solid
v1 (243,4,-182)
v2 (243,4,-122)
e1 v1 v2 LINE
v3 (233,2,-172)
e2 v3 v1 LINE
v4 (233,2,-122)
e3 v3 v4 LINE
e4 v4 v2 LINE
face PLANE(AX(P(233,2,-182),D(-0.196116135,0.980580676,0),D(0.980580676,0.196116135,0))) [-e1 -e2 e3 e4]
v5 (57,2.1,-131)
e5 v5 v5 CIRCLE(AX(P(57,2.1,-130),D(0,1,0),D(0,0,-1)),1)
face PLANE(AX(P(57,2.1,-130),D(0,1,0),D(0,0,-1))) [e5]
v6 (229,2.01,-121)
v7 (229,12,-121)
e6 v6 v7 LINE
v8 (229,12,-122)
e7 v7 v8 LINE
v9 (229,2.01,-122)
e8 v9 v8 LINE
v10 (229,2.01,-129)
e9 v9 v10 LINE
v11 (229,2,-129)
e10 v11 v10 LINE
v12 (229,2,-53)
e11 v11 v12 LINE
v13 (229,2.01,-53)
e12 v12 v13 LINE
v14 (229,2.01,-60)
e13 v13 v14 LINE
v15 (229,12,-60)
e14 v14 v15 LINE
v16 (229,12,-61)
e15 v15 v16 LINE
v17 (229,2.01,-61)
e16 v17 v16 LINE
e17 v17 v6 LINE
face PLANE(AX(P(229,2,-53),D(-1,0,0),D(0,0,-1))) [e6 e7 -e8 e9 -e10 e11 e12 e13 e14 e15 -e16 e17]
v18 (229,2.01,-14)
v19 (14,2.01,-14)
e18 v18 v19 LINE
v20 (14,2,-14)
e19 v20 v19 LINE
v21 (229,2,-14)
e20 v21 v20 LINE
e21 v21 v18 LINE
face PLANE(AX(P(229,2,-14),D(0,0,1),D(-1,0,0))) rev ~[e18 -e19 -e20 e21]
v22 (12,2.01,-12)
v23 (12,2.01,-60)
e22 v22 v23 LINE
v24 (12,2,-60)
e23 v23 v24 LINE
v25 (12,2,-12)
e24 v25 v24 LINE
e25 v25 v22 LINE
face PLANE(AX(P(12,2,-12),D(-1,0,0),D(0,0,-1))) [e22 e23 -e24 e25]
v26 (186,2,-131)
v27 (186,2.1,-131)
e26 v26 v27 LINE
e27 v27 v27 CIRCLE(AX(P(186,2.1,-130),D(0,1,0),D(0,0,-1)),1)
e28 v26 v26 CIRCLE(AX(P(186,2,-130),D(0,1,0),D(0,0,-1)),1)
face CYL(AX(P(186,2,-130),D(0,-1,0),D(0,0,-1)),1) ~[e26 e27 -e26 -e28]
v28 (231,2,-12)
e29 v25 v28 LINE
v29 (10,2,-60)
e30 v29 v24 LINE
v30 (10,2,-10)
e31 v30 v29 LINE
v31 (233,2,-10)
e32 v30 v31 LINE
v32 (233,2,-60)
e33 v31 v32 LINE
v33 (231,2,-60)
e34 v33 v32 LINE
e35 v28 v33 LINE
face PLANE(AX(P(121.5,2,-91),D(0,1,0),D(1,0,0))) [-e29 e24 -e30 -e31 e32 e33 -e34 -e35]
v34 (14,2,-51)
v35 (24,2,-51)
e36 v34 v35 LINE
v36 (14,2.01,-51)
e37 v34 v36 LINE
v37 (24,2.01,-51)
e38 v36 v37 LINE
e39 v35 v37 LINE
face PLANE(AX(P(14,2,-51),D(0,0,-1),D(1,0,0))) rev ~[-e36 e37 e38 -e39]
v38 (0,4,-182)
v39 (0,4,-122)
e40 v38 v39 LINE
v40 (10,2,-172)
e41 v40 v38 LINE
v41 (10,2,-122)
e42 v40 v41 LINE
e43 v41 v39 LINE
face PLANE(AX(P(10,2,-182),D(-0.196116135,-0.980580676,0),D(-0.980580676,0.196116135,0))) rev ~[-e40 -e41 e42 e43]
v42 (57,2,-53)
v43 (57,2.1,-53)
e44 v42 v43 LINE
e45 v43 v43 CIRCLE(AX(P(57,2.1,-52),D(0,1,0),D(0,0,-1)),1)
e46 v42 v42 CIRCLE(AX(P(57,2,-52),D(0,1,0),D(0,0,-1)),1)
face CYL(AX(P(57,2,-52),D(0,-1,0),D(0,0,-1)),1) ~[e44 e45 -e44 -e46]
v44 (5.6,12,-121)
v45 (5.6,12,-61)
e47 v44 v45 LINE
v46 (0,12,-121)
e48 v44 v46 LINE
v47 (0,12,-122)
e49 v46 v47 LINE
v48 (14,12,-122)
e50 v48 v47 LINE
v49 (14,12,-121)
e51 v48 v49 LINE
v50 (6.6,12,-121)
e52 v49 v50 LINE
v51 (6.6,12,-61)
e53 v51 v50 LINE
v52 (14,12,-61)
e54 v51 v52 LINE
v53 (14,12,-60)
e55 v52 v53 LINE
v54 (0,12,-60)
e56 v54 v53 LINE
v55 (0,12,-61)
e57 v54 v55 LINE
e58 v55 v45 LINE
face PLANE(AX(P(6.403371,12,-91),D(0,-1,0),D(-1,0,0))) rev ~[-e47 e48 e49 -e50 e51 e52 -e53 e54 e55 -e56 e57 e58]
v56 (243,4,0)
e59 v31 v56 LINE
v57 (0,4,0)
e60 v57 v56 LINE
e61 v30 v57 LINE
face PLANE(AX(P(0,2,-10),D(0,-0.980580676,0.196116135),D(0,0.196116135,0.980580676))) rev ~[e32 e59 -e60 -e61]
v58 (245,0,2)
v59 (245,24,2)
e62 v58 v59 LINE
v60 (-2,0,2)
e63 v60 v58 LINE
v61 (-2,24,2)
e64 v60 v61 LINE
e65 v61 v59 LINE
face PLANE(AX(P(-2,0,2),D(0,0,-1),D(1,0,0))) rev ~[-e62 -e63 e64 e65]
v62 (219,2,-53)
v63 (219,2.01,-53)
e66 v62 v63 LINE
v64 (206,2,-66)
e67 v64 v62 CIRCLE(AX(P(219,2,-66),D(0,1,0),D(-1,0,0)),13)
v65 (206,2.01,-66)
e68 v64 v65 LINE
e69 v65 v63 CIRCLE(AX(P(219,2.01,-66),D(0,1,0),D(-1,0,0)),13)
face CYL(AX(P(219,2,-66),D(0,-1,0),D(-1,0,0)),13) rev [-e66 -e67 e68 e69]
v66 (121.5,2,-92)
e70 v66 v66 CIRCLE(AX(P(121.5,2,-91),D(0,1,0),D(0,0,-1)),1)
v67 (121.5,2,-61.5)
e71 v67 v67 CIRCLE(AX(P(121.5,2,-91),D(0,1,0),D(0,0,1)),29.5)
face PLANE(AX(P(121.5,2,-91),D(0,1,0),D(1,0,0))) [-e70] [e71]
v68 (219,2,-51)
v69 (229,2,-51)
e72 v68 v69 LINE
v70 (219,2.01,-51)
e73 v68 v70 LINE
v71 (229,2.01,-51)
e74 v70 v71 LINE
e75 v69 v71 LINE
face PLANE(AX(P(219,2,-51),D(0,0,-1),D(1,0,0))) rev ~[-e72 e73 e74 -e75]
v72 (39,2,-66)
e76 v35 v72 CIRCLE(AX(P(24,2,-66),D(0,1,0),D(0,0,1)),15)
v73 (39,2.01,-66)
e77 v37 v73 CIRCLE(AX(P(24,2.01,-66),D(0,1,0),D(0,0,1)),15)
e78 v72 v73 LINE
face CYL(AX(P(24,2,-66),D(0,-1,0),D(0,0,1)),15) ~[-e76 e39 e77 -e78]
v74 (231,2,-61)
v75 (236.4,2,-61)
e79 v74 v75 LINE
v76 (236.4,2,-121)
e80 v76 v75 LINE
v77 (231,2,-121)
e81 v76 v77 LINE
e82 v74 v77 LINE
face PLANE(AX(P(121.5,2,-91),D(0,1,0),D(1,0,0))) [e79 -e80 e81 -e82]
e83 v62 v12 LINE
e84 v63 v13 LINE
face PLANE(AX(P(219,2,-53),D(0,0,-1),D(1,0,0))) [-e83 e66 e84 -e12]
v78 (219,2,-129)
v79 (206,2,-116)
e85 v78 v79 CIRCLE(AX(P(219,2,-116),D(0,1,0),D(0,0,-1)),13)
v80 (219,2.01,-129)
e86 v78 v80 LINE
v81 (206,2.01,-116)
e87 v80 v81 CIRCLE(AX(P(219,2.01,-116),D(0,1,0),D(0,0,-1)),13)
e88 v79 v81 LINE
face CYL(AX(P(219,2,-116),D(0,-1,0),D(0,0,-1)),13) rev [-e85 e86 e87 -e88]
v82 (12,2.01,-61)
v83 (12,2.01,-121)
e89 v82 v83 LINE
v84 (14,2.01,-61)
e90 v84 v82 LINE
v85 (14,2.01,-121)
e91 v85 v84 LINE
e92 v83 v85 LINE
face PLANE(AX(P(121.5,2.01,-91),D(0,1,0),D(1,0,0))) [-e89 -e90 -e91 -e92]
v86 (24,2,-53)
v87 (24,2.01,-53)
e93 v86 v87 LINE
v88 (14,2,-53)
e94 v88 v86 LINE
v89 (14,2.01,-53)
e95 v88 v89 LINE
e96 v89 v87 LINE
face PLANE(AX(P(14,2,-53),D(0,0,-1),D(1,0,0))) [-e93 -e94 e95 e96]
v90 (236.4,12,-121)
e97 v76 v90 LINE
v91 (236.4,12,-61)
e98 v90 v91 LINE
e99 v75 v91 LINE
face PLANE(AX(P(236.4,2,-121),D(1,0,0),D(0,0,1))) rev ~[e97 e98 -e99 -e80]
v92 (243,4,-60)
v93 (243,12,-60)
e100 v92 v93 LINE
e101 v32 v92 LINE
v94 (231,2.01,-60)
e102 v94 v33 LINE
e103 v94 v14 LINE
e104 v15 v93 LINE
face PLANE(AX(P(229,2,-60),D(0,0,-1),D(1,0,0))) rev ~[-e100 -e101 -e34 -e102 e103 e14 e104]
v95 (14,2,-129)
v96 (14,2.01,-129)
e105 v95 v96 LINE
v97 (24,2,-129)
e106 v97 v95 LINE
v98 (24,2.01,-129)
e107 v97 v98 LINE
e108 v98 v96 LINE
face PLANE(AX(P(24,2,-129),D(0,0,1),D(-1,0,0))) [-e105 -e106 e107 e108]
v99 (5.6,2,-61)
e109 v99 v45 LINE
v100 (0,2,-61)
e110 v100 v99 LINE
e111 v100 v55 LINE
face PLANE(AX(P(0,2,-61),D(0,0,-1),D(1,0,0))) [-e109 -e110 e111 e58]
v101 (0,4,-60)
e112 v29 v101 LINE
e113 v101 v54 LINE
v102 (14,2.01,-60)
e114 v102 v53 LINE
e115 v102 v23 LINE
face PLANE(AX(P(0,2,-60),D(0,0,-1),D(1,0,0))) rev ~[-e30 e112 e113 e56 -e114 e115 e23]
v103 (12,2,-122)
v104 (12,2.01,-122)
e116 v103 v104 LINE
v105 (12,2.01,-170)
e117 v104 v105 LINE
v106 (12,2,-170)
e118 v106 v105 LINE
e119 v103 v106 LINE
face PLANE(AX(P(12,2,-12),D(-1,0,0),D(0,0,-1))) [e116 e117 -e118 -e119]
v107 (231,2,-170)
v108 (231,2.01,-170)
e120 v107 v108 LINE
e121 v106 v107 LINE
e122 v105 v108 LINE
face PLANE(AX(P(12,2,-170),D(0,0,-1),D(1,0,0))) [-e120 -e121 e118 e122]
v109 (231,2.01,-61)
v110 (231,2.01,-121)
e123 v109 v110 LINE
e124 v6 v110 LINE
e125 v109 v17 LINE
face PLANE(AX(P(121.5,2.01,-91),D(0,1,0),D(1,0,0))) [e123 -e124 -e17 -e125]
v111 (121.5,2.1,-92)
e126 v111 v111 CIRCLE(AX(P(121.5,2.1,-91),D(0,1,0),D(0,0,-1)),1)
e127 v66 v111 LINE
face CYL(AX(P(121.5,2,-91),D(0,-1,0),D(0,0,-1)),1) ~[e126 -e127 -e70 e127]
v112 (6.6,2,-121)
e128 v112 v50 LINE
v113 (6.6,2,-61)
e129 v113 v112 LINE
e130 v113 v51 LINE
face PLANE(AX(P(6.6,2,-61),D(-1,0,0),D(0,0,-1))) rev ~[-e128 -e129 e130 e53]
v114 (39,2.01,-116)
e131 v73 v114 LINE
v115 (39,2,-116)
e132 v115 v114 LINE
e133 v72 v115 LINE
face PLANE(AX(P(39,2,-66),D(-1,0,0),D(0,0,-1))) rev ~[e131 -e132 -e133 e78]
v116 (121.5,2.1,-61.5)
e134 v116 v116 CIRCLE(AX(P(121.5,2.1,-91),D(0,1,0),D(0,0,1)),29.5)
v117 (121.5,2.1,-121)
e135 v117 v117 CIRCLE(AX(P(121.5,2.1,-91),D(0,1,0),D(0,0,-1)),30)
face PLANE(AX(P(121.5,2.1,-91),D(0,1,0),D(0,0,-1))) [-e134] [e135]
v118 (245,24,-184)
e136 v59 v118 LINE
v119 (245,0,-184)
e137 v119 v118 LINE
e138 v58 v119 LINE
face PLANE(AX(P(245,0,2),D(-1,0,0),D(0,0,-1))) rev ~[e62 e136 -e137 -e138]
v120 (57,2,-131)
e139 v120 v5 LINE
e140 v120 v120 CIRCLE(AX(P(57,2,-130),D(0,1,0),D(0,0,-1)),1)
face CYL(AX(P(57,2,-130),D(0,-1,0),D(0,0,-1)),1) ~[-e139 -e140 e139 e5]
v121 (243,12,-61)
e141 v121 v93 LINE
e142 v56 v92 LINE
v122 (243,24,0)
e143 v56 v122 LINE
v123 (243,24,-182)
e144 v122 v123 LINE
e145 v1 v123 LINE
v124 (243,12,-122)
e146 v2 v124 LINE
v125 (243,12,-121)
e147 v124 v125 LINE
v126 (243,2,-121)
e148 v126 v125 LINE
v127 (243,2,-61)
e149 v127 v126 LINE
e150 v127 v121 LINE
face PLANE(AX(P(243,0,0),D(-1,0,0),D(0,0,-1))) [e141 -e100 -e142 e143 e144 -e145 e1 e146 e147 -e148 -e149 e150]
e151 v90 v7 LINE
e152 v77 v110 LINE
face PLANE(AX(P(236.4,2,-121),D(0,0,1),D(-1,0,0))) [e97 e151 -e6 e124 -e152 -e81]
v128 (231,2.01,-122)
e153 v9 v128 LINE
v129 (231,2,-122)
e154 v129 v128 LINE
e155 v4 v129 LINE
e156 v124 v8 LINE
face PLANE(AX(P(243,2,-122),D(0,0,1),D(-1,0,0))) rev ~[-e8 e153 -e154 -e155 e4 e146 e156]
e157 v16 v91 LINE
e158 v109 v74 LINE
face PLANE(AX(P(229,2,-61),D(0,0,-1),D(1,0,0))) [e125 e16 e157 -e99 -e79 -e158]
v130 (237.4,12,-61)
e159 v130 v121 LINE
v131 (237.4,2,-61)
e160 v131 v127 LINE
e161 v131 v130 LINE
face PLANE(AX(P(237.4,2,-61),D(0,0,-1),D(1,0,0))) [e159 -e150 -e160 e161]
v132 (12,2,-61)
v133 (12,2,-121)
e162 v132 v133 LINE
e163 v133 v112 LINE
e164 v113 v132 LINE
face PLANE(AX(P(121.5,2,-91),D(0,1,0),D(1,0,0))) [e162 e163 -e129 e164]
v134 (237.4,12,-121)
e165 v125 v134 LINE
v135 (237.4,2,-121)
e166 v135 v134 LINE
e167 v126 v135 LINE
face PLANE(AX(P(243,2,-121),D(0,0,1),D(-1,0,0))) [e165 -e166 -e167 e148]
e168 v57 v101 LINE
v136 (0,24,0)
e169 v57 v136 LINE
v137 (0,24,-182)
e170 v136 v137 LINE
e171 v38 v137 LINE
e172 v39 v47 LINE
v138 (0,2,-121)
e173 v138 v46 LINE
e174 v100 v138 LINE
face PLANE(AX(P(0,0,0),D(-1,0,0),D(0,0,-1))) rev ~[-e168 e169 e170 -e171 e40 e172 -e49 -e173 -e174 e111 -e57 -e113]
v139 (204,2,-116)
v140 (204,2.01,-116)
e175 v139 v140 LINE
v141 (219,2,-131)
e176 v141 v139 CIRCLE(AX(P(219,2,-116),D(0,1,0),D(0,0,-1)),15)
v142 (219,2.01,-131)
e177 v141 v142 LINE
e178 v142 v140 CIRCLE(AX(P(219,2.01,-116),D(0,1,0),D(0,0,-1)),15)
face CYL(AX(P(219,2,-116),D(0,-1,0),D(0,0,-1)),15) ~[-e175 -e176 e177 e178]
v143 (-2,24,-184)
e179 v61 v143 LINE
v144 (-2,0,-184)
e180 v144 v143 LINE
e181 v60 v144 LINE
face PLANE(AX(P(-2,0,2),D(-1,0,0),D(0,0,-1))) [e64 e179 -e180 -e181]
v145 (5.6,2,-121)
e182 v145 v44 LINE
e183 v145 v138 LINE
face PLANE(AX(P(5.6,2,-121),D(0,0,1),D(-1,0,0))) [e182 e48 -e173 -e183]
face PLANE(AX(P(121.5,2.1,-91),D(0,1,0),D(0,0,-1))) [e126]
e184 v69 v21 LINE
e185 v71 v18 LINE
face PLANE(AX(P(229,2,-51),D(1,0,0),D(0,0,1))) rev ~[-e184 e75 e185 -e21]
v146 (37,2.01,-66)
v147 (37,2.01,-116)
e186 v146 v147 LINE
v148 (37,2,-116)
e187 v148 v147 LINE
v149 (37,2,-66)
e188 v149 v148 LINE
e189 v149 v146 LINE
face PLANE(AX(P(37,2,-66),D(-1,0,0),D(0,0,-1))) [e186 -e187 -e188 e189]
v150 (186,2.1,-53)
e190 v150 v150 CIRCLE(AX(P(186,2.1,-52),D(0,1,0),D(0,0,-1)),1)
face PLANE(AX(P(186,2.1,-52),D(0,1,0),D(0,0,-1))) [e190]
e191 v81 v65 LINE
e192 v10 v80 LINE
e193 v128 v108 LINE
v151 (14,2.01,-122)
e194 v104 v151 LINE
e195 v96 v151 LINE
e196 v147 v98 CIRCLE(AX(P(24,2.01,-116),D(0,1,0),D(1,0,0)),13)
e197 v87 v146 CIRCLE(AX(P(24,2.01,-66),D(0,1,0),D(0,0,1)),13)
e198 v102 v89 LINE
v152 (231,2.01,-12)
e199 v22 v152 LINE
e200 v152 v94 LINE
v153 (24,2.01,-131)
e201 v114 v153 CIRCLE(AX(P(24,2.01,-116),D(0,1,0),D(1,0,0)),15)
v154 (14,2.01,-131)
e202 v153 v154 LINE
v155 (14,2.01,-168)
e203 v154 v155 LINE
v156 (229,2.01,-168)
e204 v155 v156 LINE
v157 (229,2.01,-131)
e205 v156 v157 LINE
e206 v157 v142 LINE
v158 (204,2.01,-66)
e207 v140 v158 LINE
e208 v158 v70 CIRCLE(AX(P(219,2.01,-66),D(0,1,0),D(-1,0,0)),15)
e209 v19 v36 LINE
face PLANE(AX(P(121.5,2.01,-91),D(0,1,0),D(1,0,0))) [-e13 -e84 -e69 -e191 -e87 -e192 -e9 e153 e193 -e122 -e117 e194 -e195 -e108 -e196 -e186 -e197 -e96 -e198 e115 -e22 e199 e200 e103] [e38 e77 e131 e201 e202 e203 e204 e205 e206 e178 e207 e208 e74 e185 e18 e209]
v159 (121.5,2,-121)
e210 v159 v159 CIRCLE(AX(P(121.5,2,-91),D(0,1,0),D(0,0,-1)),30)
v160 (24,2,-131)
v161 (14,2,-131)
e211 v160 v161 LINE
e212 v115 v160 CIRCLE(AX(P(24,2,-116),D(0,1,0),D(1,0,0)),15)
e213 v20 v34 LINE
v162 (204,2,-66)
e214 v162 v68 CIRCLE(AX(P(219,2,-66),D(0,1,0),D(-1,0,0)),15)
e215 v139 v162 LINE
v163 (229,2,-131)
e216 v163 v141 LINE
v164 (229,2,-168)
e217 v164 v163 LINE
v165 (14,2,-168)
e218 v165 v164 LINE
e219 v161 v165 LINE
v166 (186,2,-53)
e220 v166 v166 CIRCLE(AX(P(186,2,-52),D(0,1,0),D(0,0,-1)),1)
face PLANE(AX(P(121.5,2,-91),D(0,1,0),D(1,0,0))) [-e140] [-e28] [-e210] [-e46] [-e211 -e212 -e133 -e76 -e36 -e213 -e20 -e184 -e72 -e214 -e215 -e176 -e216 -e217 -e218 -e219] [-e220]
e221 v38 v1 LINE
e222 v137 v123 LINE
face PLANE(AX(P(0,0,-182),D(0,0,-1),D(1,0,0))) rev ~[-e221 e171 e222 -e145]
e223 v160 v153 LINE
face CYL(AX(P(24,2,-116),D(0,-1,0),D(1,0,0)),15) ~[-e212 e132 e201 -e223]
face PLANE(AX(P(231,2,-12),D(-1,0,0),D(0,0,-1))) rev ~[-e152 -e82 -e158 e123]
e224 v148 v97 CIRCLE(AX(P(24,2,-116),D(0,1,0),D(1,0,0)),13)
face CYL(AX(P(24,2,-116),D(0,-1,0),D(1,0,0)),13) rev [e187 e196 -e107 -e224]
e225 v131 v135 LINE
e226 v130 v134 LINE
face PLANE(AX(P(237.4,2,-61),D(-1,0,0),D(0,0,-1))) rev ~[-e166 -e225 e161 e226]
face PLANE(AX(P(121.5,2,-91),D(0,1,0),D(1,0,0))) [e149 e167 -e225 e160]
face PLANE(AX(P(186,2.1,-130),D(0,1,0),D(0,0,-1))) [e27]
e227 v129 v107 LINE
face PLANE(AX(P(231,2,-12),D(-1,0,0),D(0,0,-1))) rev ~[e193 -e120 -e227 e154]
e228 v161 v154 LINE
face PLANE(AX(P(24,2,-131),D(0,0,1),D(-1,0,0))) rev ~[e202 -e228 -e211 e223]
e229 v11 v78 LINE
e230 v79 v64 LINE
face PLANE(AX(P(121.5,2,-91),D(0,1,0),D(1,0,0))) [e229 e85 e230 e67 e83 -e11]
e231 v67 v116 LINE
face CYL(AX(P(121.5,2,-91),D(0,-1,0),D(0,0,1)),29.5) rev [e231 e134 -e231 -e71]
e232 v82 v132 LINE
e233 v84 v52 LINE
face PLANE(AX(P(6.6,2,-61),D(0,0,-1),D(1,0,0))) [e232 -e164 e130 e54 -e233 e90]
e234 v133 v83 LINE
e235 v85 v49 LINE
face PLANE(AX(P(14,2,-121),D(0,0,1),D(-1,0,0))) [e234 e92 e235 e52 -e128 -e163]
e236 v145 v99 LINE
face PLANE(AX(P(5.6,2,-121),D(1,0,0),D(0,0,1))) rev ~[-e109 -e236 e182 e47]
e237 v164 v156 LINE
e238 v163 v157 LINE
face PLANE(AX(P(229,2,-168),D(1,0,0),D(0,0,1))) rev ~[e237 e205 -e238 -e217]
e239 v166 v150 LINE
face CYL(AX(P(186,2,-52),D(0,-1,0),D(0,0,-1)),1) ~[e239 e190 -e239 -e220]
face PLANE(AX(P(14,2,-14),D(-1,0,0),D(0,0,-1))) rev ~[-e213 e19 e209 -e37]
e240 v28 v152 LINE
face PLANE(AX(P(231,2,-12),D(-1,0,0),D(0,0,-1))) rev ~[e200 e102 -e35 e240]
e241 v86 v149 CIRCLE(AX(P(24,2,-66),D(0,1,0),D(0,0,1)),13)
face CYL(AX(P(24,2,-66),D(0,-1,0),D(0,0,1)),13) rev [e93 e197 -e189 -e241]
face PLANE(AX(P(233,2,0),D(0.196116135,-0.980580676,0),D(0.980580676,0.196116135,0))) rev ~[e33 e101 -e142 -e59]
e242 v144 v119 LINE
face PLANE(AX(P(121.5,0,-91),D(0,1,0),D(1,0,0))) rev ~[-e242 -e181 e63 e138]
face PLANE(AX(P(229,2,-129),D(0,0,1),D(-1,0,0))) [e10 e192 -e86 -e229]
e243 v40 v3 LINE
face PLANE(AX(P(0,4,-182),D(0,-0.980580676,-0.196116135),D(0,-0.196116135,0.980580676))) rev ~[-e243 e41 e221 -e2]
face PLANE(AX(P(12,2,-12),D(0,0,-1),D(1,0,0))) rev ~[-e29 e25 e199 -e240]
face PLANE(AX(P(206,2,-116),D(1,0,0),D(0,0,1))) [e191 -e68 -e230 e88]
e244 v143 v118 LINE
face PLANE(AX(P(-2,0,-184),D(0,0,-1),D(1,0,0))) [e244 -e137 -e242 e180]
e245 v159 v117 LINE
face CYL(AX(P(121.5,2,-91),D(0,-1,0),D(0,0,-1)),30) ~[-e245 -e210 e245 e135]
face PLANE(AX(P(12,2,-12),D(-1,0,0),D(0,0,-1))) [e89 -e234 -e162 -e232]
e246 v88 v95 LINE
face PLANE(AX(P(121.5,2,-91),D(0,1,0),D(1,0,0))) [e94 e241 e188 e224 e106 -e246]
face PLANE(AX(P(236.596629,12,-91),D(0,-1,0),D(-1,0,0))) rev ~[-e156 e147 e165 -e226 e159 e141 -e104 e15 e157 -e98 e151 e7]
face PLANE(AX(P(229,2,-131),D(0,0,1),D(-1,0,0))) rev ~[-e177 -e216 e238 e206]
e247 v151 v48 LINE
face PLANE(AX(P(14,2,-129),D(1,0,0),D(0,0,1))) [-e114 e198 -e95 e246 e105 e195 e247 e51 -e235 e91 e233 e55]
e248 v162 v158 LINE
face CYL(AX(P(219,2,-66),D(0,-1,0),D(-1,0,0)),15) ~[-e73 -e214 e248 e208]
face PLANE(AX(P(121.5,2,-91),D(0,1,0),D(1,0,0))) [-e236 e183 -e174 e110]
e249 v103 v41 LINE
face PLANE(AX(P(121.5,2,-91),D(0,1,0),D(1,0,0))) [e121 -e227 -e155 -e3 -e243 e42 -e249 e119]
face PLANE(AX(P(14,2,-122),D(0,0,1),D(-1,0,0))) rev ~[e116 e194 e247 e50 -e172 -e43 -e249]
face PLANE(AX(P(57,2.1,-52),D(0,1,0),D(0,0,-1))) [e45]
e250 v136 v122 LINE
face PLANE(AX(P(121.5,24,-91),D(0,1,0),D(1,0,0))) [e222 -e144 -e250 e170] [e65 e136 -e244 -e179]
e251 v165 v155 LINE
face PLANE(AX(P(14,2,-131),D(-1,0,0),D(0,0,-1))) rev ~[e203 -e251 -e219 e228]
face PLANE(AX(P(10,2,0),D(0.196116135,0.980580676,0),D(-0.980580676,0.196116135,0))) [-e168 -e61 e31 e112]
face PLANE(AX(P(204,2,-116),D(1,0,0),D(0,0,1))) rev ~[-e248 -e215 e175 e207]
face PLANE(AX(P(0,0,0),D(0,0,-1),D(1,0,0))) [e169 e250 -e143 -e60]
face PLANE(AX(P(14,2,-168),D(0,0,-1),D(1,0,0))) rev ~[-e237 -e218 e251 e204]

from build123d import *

# Parameters (mm, degrees)
CROQUIS1_W        = 247
CROQUIS1_H        = 186
CROQUIS1_W_2      = 243
CROQUIS1_H_2      = 182
WALL_DEPTH        = 24
CROQUIS4_W        = 243
CROQUIS4_H        = 182
FIELD_DEPTH       = 2
CROQUIS5_W        = 219
CROQUIS5_H        = 158
WHITELINE_DEPTH   = 0.01
CROQUIS6_R        = 30
CROQUIS6_R_2      = 29.5
CROQUIS6_R_3      = 1
NEUTRALZONE_DEPTH = 0.1
CROQUIS8_R        = 1
NEUTRALSPOT_DEPTH = 0.1
GOALS_DEPTH       = 10
WEDGE1_DEPTH      = 243
WEDGE2_DEPTH      = 60
WEDGE3_DEPTH      = 60


with BuildPart() as part:
    # Croquis1 → Wall (new body)
    with BuildSketch(Plane(origin=(0, 0, 0), x_dir=(1, 0, 0), z_dir=(0, 1, 0))):
        with Locations((121.5, 91)):
            Rectangle(CROQUIS1_W, CROQUIS1_H)
        with Locations((121.5, 91)):
            Rectangle(CROQUIS1_W_2, CROQUIS1_H_2, mode=Mode.SUBTRACT)
    extrude(amount=WALL_DEPTH)

    # Croquis4 → Field (add)
    with BuildSketch(Plane(origin=(0, 0, 0), x_dir=(1, 0, 0), z_dir=(0, 1, 0))):
        with Locations((121.5, 91)):
            Rectangle(CROQUIS4_W, CROQUIS4_H)
    extrude(amount=FIELD_DEPTH)

    # Croquis5 → WhiteLine (add)
    with BuildSketch(Plane(origin=(0, 2, 0), x_dir=(1, 0, 0), z_dir=(0, 1, 0))):
        with Locations((121.5, 91)):
            Rectangle(CROQUIS5_W, CROQUIS5_H)
        with BuildLine():
            Line((229, 14), (14, 14))
            Line((14, 14), (14, 51))
            Line((14, 51), (24, 51))
            ThreePointArc((24, 51), (34.606601718, 55.393398282), (39, 66))
            Line((39, 66), (39, 91))
            Line((39, 91), (39, 116))
            ThreePointArc((39, 116), (34.606601718, 126.606601718), (24, 131))
            Line((24, 131), (14, 131))
            Line((14, 131), (14, 168))
            Line((14, 168), (229, 168))
            Line((229, 168), (229, 131))
            Line((229, 131), (219, 131))
            ThreePointArc((219, 131), (208.393398282, 126.606601718), (204, 116))
            Line((204, 116), (204, 91))
            Line((204, 91), (204, 66))
            ThreePointArc((204, 66), (208.393398282, 55.393398282), (219, 51))
            Line((219, 51), (229, 51))
            Line((229, 51), (229, 14))
        make_face(mode=Mode.SUBTRACT)
        with BuildLine():
            Line((219, 53), (229, 53))
            Line((229, 53), (229, 129))
            Line((229, 129), (219, 129))
            ThreePointArc((219, 129), (209.807611845, 125.192388155), (206, 116))
            Line((206, 116), (206, 93))
            Line((206, 93), (206, 89))
            Line((206, 89), (206, 66))
            ThreePointArc((206, 66), (209.807611845, 56.807611845), (219, 53))
        make_face(mode=Mode.SUBTRACT)
        with BuildLine():
            Line((24, 129), (14, 129))
            Line((14, 129), (14, 53))
            Line((14, 53), (24, 53))
            ThreePointArc((24, 53), (33.192388155, 56.807611845), (37, 66))
            Line((37, 66), (37, 89))
            Line((37, 89), (37, 93))
            Line((37, 93), (37, 116))
            ThreePointArc((37, 116), (33.192388155, 125.192388155), (24, 129))
        make_face(mode=Mode.SUBTRACT)
    extrude(amount=WHITELINE_DEPTH)

    # Croquis6 → Neutralzone (add)
    # profile 1 of 5: a face of its own
    with BuildSketch(Plane(origin=(0, 2, 0), x_dir=(1, 0, 0), z_dir=(0, 1, 0))):
        with Locations(Location((121.5, 91, 0), (0, 0, 90))):
            Circle(CROQUIS6_R)
        with Locations(Location((121.5, 91, 0), (0, 0, 270))):
            Circle(CROQUIS6_R_2, mode=Mode.SUBTRACT)
    # profile 2 of 5: a face of its own
    with BuildSketch(Plane(origin=(0, 2, 0), x_dir=(1, 0, 0), z_dir=(0, 1, 0))):
        with Locations(Location((57, 130, 0), (0, 0, 90))):
            Circle(CROQUIS6_R_3)
    # profile 3 of 5: a face of its own
    with BuildSketch(Plane(origin=(0, 2, 0), x_dir=(1, 0, 0), z_dir=(0, 1, 0))):
        with Locations(Location((57, 52, 0), (0, 0, 90))):
            Circle(CROQUIS6_R_3)
    # profile 4 of 5: a face of its own
    with BuildSketch(Plane(origin=(0, 2, 0), x_dir=(1, 0, 0), z_dir=(0, 1, 0))):
        with Locations(Location((186, 52, 0), (0, 0, 90))):
            Circle(CROQUIS6_R_3)
    # profile 5 of 5: a face of its own
    with BuildSketch(Plane(origin=(0, 2, 0), x_dir=(1, 0, 0), z_dir=(0, 1, 0))):
        with Locations(Location((186, 130, 0), (0, 0, 90))):
            Circle(CROQUIS6_R_3)
    extrude(amount=NEUTRALZONE_DEPTH)

    # Croquis8 → NeutralSpot (add)
    with BuildSketch(Plane(origin=(0, 2, 0), x_dir=(1, 0, 0), z_dir=(0, 1, 0))):
        with Locations(Location((121.5, 91, 0), (0, 0, 90))):
            Circle(CROQUIS8_R)
    extrude(amount=NEUTRALSPOT_DEPTH)

    # Croquis9 → Goals (add)
    with BuildSketch(Plane(origin=(0, 2, 0), x_dir=(1, 0, 0), z_dir=(0, 1, 0))):
        Polygon((14, 121), (6.6, 121), (6.6, 91), (6.6, 61), (14, 61), (14, 60), (5.6, 60), (0, 60), (0, 61), (5.6, 61), (5.6, 91), (5.6, 121), (0, 121), (0, 122), (5.6, 122), (14, 122), align=None)
        Polygon((229, 61), (236.4, 61), (236.4, 91), (236.4, 121), (229, 121), (229, 122), (237.4, 122), (243, 122), (243, 121), (237.4, 121), (237.4, 91), (237.4, 61), (243, 61), (243, 60), (237.4, 60), (229, 60), align=None)
    extrude(amount=GOALS_DEPTH)

    # Croquis10 → Wedge1 (add)
    with BuildSketch(Plane(origin=(0, 0, 0), x_dir=(0, 0, -1), z_dir=(1, 0, 0))):
        Polygon((0, 2), (10, 2), (0, 4), align=None)
        Polygon((182, 4), (172, 2), (182, 2), align=None)
    extrude(amount=WEDGE1_DEPTH)

    # Croquis11 → Wedge2 (add)
    with BuildSketch(Plane(origin=(0, 0, 0), x_dir=(-1, 0, 0), z_dir=(0, 0, -1))):
        Polygon((0, 4), (0, 2), (-10, 2), align=None)
        Polygon((-233, 2), (-243, 4), (-243, 2), align=None)
    extrude(amount=WEDGE2_DEPTH)

    # Croquis12 → Wedge3 (add)
    with BuildSketch(Plane.XY.offset(-182)):
        Polygon((0, 4), (0, 2), (10, 2), align=None)
        Polygon((233, 2), (243, 4), (243, 2), align=None)
    extrude(amount=WEDGE3_DEPTH)


solid = part.part
